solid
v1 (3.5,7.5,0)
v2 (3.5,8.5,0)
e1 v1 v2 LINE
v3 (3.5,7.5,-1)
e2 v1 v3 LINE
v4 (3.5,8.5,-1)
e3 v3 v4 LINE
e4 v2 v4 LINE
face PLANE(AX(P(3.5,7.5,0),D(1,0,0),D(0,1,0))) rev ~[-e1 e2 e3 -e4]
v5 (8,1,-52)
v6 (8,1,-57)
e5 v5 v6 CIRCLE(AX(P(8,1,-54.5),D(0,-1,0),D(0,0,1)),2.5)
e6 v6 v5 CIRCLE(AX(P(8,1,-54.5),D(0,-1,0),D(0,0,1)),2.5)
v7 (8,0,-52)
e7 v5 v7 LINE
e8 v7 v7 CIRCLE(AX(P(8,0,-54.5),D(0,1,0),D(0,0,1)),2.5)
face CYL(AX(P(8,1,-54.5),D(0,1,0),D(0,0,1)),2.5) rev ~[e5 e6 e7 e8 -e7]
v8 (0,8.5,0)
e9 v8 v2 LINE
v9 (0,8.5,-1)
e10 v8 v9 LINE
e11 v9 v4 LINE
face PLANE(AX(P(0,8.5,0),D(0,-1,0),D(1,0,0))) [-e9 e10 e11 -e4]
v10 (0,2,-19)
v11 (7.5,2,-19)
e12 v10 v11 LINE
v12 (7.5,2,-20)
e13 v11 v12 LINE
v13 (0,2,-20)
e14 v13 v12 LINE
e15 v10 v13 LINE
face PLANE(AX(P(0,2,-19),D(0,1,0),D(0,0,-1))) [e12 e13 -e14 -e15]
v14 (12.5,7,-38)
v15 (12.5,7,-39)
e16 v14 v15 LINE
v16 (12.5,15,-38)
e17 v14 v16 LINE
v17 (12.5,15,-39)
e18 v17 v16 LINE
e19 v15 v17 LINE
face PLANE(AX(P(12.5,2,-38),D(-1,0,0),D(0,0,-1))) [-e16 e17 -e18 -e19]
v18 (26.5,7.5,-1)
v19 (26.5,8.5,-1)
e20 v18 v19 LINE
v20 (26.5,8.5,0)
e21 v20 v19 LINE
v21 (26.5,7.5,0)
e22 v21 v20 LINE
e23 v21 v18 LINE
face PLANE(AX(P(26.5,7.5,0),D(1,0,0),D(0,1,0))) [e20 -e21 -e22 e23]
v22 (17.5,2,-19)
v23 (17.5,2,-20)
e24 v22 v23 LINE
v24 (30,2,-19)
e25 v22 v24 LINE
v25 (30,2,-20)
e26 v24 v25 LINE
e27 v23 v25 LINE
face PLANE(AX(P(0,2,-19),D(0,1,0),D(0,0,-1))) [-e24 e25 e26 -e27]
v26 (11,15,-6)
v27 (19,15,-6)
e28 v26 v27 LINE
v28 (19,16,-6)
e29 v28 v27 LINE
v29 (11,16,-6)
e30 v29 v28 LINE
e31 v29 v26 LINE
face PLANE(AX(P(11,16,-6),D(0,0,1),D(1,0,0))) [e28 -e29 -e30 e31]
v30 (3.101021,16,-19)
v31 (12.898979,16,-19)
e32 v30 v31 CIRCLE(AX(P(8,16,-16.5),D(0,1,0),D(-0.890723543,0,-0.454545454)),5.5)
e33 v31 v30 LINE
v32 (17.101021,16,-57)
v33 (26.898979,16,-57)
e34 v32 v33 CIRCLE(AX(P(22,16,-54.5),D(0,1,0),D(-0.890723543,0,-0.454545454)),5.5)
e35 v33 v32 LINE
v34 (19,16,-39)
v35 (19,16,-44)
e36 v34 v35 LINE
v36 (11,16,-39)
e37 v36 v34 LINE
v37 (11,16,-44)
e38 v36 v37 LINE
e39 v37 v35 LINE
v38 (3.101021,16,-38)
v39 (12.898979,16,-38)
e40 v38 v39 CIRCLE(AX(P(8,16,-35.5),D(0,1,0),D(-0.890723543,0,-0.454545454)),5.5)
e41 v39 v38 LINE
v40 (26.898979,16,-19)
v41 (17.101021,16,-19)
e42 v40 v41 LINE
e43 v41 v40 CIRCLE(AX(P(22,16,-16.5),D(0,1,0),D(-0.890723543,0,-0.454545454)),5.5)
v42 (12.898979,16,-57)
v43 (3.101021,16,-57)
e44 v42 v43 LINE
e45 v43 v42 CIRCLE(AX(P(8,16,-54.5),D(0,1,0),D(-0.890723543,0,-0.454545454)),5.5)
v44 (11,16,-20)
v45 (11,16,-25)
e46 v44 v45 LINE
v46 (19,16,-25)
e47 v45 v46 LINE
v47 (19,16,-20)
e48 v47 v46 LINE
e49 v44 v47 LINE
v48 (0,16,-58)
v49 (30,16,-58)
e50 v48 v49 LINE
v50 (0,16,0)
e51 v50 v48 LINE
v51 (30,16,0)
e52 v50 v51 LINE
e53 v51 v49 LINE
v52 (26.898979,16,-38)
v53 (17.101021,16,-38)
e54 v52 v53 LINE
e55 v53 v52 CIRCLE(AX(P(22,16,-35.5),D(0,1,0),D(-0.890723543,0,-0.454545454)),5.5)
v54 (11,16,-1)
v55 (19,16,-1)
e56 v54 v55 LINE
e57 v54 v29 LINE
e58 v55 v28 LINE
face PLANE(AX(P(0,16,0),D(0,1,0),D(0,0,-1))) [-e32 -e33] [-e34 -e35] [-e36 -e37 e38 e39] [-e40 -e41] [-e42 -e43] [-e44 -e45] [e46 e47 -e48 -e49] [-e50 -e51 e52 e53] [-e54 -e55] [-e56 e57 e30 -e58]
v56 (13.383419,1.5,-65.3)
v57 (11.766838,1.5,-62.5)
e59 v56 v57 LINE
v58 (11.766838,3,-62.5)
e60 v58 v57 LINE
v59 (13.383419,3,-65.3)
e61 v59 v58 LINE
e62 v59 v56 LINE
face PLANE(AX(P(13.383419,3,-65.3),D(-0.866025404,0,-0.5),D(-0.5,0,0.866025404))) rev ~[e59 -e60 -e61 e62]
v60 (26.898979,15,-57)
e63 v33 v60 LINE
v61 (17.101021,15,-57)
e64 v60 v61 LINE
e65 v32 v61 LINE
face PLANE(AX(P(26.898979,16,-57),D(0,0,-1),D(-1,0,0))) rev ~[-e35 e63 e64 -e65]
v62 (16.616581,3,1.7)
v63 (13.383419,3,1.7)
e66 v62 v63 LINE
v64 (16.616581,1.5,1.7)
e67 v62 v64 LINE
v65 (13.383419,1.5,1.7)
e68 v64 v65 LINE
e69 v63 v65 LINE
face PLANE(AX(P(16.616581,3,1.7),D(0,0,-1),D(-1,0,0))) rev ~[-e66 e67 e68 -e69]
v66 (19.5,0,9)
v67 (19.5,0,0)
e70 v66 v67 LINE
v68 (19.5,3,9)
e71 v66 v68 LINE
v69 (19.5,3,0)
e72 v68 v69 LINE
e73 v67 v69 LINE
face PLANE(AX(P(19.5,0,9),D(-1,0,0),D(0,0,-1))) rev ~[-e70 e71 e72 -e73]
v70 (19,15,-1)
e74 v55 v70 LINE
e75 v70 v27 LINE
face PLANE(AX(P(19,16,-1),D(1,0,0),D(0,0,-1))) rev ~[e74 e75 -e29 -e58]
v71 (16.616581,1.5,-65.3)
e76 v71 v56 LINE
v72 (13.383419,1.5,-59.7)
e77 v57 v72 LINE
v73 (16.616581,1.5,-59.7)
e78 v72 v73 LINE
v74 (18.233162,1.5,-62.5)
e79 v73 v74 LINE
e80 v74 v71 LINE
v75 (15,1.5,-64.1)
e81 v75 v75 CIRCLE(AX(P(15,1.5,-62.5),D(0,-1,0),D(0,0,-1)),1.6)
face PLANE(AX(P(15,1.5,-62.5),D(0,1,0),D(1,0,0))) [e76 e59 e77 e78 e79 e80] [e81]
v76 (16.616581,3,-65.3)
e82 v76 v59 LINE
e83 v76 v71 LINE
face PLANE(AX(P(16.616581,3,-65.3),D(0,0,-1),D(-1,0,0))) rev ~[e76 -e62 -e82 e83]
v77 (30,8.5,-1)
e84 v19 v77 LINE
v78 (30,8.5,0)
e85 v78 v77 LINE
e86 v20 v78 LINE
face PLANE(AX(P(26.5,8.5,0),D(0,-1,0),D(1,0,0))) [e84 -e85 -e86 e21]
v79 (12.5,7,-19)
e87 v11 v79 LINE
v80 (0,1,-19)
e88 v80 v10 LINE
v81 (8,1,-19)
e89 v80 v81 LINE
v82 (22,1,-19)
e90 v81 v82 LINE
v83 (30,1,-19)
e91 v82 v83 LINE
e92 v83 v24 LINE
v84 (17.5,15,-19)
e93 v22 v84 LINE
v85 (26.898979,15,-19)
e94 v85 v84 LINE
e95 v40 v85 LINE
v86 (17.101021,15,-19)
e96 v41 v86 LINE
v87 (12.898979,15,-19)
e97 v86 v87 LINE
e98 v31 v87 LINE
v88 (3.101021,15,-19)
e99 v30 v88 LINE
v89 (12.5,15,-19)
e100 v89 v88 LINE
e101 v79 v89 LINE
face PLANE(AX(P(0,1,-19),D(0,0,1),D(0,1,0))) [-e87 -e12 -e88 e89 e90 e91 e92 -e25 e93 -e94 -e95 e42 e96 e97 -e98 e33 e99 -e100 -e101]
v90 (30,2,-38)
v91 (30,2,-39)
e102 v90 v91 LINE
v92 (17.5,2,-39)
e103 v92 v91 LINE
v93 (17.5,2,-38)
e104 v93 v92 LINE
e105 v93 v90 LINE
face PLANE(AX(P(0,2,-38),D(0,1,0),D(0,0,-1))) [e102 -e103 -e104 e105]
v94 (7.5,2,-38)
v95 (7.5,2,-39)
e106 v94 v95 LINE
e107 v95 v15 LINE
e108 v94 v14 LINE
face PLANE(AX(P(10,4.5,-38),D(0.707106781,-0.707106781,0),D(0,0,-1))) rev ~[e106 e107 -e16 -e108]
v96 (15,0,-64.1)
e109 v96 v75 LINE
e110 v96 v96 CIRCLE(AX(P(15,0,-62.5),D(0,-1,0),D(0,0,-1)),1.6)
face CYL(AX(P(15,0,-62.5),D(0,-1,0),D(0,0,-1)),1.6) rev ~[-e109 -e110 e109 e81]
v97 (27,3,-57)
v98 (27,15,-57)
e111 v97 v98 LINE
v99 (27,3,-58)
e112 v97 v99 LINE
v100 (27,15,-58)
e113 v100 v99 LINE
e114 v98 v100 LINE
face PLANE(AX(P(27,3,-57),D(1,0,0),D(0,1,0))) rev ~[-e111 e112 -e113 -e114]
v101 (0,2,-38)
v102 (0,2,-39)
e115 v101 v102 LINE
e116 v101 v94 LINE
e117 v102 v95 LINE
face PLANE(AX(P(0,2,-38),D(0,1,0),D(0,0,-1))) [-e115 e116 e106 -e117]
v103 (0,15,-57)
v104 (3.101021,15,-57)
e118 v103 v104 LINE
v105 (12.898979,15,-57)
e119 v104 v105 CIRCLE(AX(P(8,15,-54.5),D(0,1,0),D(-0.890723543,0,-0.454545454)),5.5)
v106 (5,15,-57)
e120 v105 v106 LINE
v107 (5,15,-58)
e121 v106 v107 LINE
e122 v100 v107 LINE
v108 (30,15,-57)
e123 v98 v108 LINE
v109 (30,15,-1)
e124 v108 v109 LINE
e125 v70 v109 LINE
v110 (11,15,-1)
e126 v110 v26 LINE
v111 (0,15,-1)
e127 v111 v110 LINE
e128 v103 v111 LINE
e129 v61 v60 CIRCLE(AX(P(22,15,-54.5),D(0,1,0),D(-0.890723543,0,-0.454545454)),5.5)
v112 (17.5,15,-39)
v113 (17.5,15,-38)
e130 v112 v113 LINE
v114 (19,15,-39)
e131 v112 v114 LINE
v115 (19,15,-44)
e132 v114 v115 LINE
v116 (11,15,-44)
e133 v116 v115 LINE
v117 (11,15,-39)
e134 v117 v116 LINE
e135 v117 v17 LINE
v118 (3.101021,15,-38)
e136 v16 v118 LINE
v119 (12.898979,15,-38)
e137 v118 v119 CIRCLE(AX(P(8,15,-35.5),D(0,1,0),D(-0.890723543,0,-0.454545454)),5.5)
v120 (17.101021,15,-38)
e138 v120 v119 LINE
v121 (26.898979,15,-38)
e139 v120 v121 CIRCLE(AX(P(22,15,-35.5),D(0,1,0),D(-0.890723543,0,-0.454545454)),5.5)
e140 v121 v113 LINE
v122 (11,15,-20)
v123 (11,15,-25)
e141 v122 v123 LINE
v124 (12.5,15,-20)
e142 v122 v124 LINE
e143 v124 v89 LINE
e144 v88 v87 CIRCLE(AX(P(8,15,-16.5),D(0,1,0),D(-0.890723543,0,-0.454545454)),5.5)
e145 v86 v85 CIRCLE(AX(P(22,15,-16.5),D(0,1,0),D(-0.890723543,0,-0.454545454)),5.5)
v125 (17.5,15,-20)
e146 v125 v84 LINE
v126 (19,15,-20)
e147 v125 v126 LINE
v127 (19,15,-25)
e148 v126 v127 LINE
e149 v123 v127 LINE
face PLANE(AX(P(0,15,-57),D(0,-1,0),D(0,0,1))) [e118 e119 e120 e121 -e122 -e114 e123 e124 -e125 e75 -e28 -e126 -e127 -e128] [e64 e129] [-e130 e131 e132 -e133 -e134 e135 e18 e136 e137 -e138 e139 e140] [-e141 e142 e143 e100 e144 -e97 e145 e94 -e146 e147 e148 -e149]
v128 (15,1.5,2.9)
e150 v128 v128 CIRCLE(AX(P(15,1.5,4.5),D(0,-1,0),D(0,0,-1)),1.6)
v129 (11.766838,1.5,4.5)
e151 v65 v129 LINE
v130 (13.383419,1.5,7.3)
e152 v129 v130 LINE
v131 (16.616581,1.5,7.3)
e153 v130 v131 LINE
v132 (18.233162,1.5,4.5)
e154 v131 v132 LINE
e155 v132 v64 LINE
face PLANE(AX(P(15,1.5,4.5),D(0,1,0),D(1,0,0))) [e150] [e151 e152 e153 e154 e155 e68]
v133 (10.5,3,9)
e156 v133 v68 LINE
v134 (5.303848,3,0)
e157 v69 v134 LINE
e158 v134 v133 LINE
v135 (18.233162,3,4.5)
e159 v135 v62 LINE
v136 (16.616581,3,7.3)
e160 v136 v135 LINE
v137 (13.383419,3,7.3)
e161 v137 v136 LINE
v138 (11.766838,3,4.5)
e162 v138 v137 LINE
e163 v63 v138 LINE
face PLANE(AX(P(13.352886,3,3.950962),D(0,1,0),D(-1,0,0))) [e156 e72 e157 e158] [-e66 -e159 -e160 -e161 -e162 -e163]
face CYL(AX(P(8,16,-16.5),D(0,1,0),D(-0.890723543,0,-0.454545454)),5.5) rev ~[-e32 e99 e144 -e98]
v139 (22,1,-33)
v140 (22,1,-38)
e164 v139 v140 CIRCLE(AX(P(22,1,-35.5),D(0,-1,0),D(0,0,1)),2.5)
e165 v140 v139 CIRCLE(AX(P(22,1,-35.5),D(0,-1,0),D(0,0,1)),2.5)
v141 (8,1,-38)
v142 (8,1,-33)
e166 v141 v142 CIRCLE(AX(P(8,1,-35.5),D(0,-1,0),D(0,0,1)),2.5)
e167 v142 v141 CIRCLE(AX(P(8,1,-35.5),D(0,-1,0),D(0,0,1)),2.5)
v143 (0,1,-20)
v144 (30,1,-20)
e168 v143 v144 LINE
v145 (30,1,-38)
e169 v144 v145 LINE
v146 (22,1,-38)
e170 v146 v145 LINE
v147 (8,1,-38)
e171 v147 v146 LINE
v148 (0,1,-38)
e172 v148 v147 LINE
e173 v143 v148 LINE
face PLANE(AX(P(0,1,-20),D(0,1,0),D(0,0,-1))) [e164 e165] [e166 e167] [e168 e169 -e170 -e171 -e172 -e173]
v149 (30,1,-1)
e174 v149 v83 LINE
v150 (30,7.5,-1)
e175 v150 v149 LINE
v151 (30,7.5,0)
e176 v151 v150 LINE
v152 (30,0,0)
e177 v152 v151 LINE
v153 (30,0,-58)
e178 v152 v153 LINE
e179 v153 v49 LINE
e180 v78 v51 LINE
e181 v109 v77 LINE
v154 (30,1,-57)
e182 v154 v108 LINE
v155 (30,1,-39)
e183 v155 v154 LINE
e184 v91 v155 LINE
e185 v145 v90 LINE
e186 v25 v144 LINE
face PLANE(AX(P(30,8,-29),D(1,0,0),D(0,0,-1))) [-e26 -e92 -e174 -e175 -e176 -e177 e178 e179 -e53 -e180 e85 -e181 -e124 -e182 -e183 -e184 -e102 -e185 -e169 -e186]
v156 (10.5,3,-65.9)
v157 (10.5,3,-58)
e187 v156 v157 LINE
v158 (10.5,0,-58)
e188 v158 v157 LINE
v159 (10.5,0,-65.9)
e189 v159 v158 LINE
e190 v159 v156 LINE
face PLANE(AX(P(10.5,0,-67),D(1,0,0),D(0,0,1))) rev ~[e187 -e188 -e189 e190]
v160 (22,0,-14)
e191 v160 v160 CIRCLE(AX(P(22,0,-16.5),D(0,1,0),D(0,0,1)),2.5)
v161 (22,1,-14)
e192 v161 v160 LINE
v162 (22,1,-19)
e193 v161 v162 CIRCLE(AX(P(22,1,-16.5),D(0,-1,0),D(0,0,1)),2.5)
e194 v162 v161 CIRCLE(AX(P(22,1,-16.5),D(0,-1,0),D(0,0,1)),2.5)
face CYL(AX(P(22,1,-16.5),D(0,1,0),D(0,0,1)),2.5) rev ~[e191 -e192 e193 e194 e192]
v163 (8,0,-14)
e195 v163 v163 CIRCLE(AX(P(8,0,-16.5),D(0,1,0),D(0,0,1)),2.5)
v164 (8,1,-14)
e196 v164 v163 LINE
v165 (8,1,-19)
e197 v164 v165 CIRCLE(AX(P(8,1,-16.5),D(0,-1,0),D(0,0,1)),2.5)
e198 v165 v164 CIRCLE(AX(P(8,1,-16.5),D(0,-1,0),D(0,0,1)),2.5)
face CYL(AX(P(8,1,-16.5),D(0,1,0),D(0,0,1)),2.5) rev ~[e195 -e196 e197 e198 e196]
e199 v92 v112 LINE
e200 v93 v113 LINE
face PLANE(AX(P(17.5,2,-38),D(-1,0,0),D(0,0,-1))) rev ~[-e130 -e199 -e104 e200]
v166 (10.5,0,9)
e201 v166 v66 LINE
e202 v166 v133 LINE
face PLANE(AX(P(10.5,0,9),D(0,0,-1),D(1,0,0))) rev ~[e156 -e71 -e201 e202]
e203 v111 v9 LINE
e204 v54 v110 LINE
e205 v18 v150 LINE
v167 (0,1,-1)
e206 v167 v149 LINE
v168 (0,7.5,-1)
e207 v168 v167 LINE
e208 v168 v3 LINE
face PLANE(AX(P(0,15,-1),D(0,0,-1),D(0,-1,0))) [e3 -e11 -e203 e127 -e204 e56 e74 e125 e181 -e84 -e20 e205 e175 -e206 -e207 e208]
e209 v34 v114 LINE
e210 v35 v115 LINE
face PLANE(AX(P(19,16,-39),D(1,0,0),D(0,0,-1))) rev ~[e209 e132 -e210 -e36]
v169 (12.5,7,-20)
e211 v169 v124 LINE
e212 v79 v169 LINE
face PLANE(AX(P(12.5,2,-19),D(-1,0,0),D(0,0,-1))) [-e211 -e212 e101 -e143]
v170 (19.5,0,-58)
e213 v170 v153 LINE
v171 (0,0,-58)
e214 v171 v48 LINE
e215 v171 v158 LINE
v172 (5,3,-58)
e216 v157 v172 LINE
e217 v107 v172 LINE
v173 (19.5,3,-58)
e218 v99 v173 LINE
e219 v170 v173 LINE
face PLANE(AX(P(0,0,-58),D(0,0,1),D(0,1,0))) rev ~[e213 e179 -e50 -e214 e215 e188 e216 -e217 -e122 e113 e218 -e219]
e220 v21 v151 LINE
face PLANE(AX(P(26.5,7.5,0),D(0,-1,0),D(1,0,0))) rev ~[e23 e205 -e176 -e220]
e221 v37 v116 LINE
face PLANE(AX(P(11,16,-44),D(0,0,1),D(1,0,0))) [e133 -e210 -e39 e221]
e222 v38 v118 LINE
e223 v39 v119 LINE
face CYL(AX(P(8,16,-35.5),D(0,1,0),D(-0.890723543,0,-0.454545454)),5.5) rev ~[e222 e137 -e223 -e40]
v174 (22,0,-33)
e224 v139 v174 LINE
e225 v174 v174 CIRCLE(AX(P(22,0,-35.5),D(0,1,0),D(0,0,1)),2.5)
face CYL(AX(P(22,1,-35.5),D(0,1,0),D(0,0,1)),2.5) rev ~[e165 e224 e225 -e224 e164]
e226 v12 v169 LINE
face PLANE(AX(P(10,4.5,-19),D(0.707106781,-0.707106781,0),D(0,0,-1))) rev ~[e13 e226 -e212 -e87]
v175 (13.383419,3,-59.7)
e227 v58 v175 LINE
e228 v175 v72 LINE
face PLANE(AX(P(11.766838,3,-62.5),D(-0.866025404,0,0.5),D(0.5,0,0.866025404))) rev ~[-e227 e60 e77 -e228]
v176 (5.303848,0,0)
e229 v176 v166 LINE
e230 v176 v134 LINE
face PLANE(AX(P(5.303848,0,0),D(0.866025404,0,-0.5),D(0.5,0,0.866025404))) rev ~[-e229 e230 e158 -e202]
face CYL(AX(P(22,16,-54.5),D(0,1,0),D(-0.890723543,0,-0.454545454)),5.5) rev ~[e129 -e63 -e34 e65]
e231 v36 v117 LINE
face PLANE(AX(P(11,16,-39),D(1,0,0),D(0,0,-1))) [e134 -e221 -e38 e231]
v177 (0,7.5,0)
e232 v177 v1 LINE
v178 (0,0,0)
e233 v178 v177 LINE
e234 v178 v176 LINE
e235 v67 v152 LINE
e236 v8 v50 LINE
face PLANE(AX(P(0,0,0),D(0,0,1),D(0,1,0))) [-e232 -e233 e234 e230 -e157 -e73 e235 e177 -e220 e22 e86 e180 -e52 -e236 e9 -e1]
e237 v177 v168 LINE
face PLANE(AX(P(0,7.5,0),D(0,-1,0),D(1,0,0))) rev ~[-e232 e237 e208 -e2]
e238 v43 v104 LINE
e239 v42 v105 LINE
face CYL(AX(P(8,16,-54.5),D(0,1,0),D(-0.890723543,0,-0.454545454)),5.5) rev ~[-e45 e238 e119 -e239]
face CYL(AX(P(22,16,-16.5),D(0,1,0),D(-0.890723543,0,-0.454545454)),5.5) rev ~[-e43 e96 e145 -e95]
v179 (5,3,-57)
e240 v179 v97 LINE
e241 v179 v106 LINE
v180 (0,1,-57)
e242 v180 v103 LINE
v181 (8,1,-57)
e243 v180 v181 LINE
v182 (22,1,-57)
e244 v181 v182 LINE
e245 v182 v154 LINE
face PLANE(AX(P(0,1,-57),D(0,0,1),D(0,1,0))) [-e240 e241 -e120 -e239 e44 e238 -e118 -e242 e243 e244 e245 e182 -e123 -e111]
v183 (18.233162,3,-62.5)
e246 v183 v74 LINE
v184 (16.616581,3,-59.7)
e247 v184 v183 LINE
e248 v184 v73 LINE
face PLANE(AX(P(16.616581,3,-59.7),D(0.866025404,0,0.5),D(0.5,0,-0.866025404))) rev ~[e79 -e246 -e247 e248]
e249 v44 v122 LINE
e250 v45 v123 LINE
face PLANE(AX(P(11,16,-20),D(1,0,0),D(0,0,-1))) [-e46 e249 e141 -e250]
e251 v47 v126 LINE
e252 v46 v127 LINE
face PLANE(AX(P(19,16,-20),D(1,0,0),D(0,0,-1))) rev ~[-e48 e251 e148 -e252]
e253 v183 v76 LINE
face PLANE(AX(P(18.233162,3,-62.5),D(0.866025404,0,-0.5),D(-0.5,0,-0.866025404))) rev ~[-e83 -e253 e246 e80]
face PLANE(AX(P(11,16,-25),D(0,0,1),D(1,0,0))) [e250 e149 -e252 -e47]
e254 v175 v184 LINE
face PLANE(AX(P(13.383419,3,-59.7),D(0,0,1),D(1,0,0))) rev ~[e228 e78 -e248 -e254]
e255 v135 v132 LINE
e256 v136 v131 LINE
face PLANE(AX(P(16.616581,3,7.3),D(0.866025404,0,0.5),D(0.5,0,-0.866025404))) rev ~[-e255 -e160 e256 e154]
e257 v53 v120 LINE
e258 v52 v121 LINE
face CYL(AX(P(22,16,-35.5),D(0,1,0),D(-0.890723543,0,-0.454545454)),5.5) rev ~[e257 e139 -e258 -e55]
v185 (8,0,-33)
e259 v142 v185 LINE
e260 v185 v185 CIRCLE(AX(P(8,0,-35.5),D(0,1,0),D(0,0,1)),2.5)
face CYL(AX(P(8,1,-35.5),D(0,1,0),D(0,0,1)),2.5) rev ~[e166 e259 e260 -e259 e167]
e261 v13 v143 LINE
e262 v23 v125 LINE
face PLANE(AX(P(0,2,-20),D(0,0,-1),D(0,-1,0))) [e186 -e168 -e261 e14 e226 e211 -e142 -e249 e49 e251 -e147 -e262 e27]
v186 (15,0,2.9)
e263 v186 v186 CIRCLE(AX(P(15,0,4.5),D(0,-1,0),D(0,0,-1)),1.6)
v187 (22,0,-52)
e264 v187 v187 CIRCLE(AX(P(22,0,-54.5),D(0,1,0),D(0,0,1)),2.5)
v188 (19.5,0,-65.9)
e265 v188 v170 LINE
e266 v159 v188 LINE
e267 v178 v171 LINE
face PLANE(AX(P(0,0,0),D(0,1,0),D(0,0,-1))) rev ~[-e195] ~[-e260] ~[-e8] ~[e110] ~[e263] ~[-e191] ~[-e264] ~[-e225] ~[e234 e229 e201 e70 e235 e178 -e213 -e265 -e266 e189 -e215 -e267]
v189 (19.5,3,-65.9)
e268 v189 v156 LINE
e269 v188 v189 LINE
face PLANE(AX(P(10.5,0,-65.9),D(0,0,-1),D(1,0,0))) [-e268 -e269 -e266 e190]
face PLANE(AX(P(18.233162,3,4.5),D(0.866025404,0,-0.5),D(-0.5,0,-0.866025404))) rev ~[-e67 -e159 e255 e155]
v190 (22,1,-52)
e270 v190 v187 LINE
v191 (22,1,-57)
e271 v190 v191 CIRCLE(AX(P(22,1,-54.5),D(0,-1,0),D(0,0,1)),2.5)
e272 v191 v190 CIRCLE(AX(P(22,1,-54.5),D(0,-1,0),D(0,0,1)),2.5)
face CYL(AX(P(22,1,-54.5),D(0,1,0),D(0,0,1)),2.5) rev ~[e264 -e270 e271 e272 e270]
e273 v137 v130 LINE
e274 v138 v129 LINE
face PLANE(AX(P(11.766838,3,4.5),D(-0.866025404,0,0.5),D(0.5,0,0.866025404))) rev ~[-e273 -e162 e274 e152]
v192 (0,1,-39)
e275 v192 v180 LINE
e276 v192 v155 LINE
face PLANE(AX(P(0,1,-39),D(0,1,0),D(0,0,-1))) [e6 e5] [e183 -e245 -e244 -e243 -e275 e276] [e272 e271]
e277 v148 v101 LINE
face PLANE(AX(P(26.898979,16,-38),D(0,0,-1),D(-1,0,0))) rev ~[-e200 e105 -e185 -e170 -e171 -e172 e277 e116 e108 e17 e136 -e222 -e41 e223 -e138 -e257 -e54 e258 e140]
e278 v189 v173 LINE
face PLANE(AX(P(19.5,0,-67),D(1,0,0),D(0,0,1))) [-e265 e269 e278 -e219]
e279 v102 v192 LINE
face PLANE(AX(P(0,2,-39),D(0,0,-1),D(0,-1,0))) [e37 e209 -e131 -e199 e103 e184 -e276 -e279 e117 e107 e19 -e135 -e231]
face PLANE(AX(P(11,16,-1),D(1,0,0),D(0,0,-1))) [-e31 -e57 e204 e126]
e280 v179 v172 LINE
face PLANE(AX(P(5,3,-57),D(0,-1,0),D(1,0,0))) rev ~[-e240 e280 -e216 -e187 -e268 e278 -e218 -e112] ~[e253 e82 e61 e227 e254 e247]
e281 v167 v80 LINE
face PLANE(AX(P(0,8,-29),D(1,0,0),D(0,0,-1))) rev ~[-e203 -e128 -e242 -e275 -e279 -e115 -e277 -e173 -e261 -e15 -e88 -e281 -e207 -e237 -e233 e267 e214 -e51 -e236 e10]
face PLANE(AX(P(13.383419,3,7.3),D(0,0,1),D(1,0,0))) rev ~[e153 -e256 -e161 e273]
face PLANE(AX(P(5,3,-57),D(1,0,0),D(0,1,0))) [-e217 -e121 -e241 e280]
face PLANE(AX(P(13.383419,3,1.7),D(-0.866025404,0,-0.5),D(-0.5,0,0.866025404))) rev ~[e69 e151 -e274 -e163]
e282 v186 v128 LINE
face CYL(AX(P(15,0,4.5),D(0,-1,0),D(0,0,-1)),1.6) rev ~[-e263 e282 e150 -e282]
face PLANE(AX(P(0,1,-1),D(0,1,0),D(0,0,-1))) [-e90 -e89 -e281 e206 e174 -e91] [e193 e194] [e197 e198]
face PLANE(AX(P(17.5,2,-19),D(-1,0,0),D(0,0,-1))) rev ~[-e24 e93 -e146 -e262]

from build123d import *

# Parameters (mm, degrees)
SKETCH3_W           = 58
SKETCH3_H           = 16
BOSS_EXTRUDE2_DEPTH = 30
CUT_EXTRUDE2_REACH  = 3
SKETCH4_R           = 2.5
CUT_EXTRUDE6_REACH  = 3
SKETCH7_W           = 22
SKETCH7_H           = 12
BOSS_EXTRUDE4_REACH = 16
SKETCH9_W           = 5
SKETCH9_H           = 1
CHAMFER1_SIZE       = 5
SKETCH10_R          = 1.6
SKETCH10_W          = 9
SKETCH10_H          = 9
BOSS_EXTRUDE5_DEPTH = 3
CUT_EXTRUDE8_DEPTH  = 1.5
CUT_EXTRUDE9_REACH  = 69
SKETCH12_W          = 3.5
SKETCH12_H          = 1
CUT_EXTRUDE10_REACH = 18
SKETCH13_W          = 9
SKETCH13_H          = 1.1
CUT_EXTRUDE12_REACH = 18
SKETCH14_W          = 8
SKETCH14_H          = 5


with BuildPart() as part:
    # Sketch3 → Boss-Extrude2 (new body)
    with BuildSketch(Plane(origin=(0, 0, 0), x_dir=(0, 0, -1), z_dir=(1, 0, 0))):
        with Locations((29, 8)):
            Rectangle(SKETCH3_W, SKETCH3_H)
        Polygon((1, 1), (19, 1), (19, 2), (20, 2), (20, 1), (38, 1), (38, 2), (39, 2), (39, 1), (57, 1), (57, 15), (1, 15), align=None, mode=Mode.SUBTRACT)
    extrude(amount=BOSS_EXTRUDE2_DEPTH)

    # Sketch4 → Cut-Extrude2 (cut, up to next)
    with BuildSketch(Plane(origin=(0, 1, 0), x_dir=(1, 0, 0), z_dir=(0, 1, 0)), mode=Mode.PRIVATE) as cut_extrude2_sk1:
        with Locations(Location((22, 54.5, 0), (0, 0, 270))):  # turned: the seam where the file's is
            Circle(SKETCH4_R)
    cut_extrude2_tool1 = extrude(cut_extrude2_sk1.sketch, amount=-CUT_EXTRUDE2_REACH, mode=Mode.PRIVATE) & part.part
    add(cut_extrude2_tool1.solids().sort_by_distance((22, 1, -54.5))[0], mode=Mode.SUBTRACT)
    # Sketch4 → Cut-Extrude2 (cut, up to next)
    with BuildSketch(Plane(origin=(0, 1, 0), x_dir=(1, 0, 0), z_dir=(0, 1, 0)), mode=Mode.PRIVATE) as cut_extrude2_sk2:
        with Locations(Location((8, 54.5, 0), (0, 0, 270))):  # turned: the seam where the file's is
            Circle(SKETCH4_R)
    cut_extrude2_tool2 = extrude(cut_extrude2_sk2.sketch, amount=-CUT_EXTRUDE2_REACH, mode=Mode.PRIVATE) & part.part
    add(cut_extrude2_tool2.solids().sort_by_distance((8, 1, -54.5))[0], mode=Mode.SUBTRACT)
    # Sketch4 → Cut-Extrude2 (cut, up to next)
    with BuildSketch(Plane(origin=(0, 1, 0), x_dir=(1, 0, 0), z_dir=(0, 1, 0)), mode=Mode.PRIVATE) as cut_extrude2_sk3:
        with Locations(Location((8, 35.5, 0), (0, 0, 270))):  # turned: the seam where the file's is
            Circle(SKETCH4_R)
    cut_extrude2_tool3 = extrude(cut_extrude2_sk3.sketch, amount=-CUT_EXTRUDE2_REACH, mode=Mode.PRIVATE) & part.part
    add(cut_extrude2_tool3.solids().sort_by_distance((8, 1, -35.5))[0], mode=Mode.SUBTRACT)
    # Sketch4 → Cut-Extrude2 (cut, up to next)
    with BuildSketch(Plane(origin=(0, 1, 0), x_dir=(1, 0, 0), z_dir=(0, 1, 0)), mode=Mode.PRIVATE) as cut_extrude2_sk4:
        with Locations(Location((22, 35.5, 0), (0, 0, 270))):  # turned: the seam where the file's is
            Circle(SKETCH4_R)
    cut_extrude2_tool4 = extrude(cut_extrude2_sk4.sketch, amount=-CUT_EXTRUDE2_REACH, mode=Mode.PRIVATE) & part.part
    add(cut_extrude2_tool4.solids().sort_by_distance((22, 1, -35.5))[0], mode=Mode.SUBTRACT)
    # Sketch4 → Cut-Extrude2 (cut, up to next)
    with BuildSketch(Plane(origin=(0, 1, 0), x_dir=(1, 0, 0), z_dir=(0, 1, 0)), mode=Mode.PRIVATE) as cut_extrude2_sk5:
        with Locations(Location((8, 16.5, 0), (0, 0, 270))):  # turned: the seam where the file's is
            Circle(SKETCH4_R)
    cut_extrude2_tool5 = extrude(cut_extrude2_sk5.sketch, amount=-CUT_EXTRUDE2_REACH, mode=Mode.PRIVATE) & part.part
    add(cut_extrude2_tool5.solids().sort_by_distance((8, 1, -16.5))[0], mode=Mode.SUBTRACT)
    # Sketch4 → Cut-Extrude2 (cut, up to next)
    with BuildSketch(Plane(origin=(0, 1, 0), x_dir=(1, 0, 0), z_dir=(0, 1, 0)), mode=Mode.PRIVATE) as cut_extrude2_sk6:
        with Locations(Location((22, 16.5, 0), (0, 0, 270))):  # turned: the seam where the file's is
            Circle(SKETCH4_R)
    cut_extrude2_tool6 = extrude(cut_extrude2_sk6.sketch, amount=-CUT_EXTRUDE2_REACH, mode=Mode.PRIVATE) & part.part
    add(cut_extrude2_tool6.solids().sort_by_distance((22, 1, -16.5))[0], mode=Mode.SUBTRACT)

    # Sketch7 → Cut-Extrude6 (cut, up to next)
    with BuildSketch(Plane.XY.offset(-57), mode=Mode.PRIVATE) as cut_extrude6_sk1:
        with Locations((16, 9)):
            Rectangle(SKETCH7_W, SKETCH7_H)
    cut_extrude6_tool1 = extrude(cut_extrude6_sk1.sketch, amount=-CUT_EXTRUDE6_REACH, mode=Mode.PRIVATE) & part.part
    add(cut_extrude6_tool1.solids().sort_by_distance((16, 9, -57))[0], mode=Mode.SUBTRACT)

    # Sketch9 → Boss-Extrude4 (add, up to next)
    with BuildSketch(Plane(origin=(0, 2, 0), x_dir=(1, 0, 0), z_dir=(0, 1, 0)), mode=Mode.PRIVATE) as boss_extrude4_sk1:
        with Locations((15, 19.5)):
            Rectangle(SKETCH9_W, SKETCH9_H)
    boss_extrude4_tool1 = extrude(boss_extrude4_sk1.sketch, amount=BOSS_EXTRUDE4_REACH, mode=Mode.PRIVATE) - part.part
    add(boss_extrude4_tool1.solids().sort_by_distance((15, 2, -19.5))[0])
    # Sketch9 → Boss-Extrude4 (add, up to next)
    with BuildSketch(Plane(origin=(0, 2, 0), x_dir=(1, 0, 0), z_dir=(0, 1, 0)), mode=Mode.PRIVATE) as boss_extrude4_sk2:
        with Locations((15, 38.5)):
            Rectangle(SKETCH9_W, SKETCH9_H)
    boss_extrude4_tool2 = extrude(boss_extrude4_sk2.sketch, amount=BOSS_EXTRUDE4_REACH, mode=Mode.PRIVATE) - part.part
    add(boss_extrude4_tool2.solids().sort_by_distance((15, 2, -38.5))[0])

    # Chamfer1
    chamfer1_edges = [part.edges().sort_by_distance(p)[0] for p in [
        (12.5, 2, -19.5),
        (12.5, 2, -38.5),
    ]]
    chamfer(chamfer1_edges, length=CHAMFER1_SIZE)

    # Sketch10 → Boss-Extrude5 (add)
    with BuildSketch(Plane.XZ):
        Polygon((19.5, 0), (5.303847577, 0), (10.5, 9), (19.5, 9), align=None)
        with Locations(Location((15, 4.5, 0), (0, 0, 270))):  # turned: the seam where the file's is
            Circle(SKETCH10_R, mode=Mode.SUBTRACT)
        with Locations((15, -62.5)):
            Rectangle(SKETCH10_W, SKETCH10_H)
        with Locations(Location((15, -62.5, 0), (0, 0, 270))):  # turned: the seam where the file's is
            Circle(SKETCH10_R, mode=Mode.SUBTRACT)
    extrude(amount=-BOSS_EXTRUDE5_DEPTH)

    # Sketch11 → Cut-Extrude8 (cut)
    with BuildSketch(Plane(origin=(0, 3, 0), x_dir=(1, 0, 0), z_dir=(0, 1, 0))):
        Polygon((11.766838493, 62.5), (13.383419246, 59.7), (16.616580754, 59.7), (18.233161507, 62.5), (16.616580754, 65.3), (13.383419246, 65.3), align=None)
        Polygon((11.766838493, -4.5), (13.383419246, -7.3), (16.616580754, -7.3), (18.233161507, -4.5), (16.616580754, -1.7), (13.383419246, -1.7), align=None)
    extrude(amount=-CUT_EXTRUDE8_DEPTH, mode=Mode.SUBTRACT)

    # Sketch12 → Cut-Extrude9 (cut, up to next)
    with BuildSketch(Plane.XY, mode=Mode.PRIVATE) as cut_extrude9_sk1:
        with Locations((1.75, 8)):
            Rectangle(SKETCH12_W, SKETCH12_H)
    cut_extrude9_tool1 = extrude(cut_extrude9_sk1.sketch, amount=-CUT_EXTRUDE9_REACH, mode=Mode.PRIVATE) & part.part
    add(cut_extrude9_tool1.solids().sort_by_distance((1.75, 8, 0))[0], mode=Mode.SUBTRACT)
    # Sketch12 → Cut-Extrude9 (cut, up to next)
    with BuildSketch(Plane.XY, mode=Mode.PRIVATE) as cut_extrude9_sk2:
        with Locations((28.25, 8)):
            Rectangle(SKETCH12_W, SKETCH12_H)
    cut_extrude9_tool2 = extrude(cut_extrude9_sk2.sketch, amount=-CUT_EXTRUDE9_REACH, mode=Mode.PRIVATE) & part.part
    add(cut_extrude9_tool2.solids().sort_by_distance((28.25, 8, 0))[0], mode=Mode.SUBTRACT)

    # Sketch13 → Cut-Extrude10 (cut, up to next)
    with BuildSketch(Plane.XZ, mode=Mode.PRIVATE) as cut_extrude10_sk1:
        with Locations((15, -66.45)):
            Rectangle(SKETCH13_W, SKETCH13_H)
    cut_extrude10_tool1 = extrude(cut_extrude10_sk1.sketch, amount=-CUT_EXTRUDE10_REACH, mode=Mode.PRIVATE) & part.part
    add(cut_extrude10_tool1.solids().sort_by_distance((15, 0, -66.45))[0], mode=Mode.SUBTRACT)

    # Sketch14 → Cut-Extrude12 (cut, up to next)
    with BuildSketch(Plane(origin=(0, 16, 0), x_dir=(1, 0, 0), z_dir=(0, 1, 0)), mode=Mode.PRIVATE) as cut_extrude12_sk1:
        with BuildLine():
            Line((12.898979486, 57), (3.101020514, 57))
            ThreePointArc((3.101020514, 57), (8, 49), (12.898979486, 57))
        make_face()
    cut_extrude12_tool1 = extrude(cut_extrude12_sk1.sketch, amount=-CUT_EXTRUDE12_REACH, mode=Mode.PRIVATE) & part.part
    add(cut_extrude12_tool1.solids().sort_by_distance((8, 16, -53.441303))[0], mode=Mode.SUBTRACT)
    # Sketch14 → Cut-Extrude12 (cut, up to next)
    with BuildSketch(Plane(origin=(0, 16, 0), x_dir=(1, 0, 0), z_dir=(0, 1, 0)), mode=Mode.PRIVATE) as cut_extrude12_sk2:
        with BuildLine():
            Line((26.898979486, 57), (17.101020514, 57))
            ThreePointArc((17.101020514, 57), (22, 49), (26.898979486, 57))
        make_face()
    cut_extrude12_tool2 = extrude(cut_extrude12_sk2.sketch, amount=-CUT_EXTRUDE12_REACH, mode=Mode.PRIVATE) & part.part
    add(cut_extrude12_tool2.solids().sort_by_distance((22, 16, -53.441303))[0], mode=Mode.SUBTRACT)
    # Sketch14 → Cut-Extrude12 (cut, up to next)
    with BuildSketch(Plane(origin=(0, 16, 0), x_dir=(1, 0, 0), z_dir=(0, 1, 0)), mode=Mode.PRIVATE) as cut_extrude12_sk3:
        with BuildLine():
            Line((26.898979486, 38), (17.101020514, 38))
            ThreePointArc((17.101020514, 38), (22, 30), (26.898979486, 38))
        make_face()
    cut_extrude12_tool3 = extrude(cut_extrude12_sk3.sketch, amount=-CUT_EXTRUDE12_REACH, mode=Mode.PRIVATE) & part.part
    add(cut_extrude12_tool3.solids().sort_by_distance((22, 16, -34.441303))[0], mode=Mode.SUBTRACT)
    # Sketch14 → Cut-Extrude12 (cut, up to next)
    with BuildSketch(Plane(origin=(0, 16, 0), x_dir=(1, 0, 0), z_dir=(0, 1, 0)), mode=Mode.PRIVATE) as cut_extrude12_sk4:
        with BuildLine():
            Line((12.898979486, 38), (3.101020514, 38))
            ThreePointArc((3.101020514, 38), (8, 30), (12.898979486, 38))
        make_face()
    cut_extrude12_tool4 = extrude(cut_extrude12_sk4.sketch, amount=-CUT_EXTRUDE12_REACH, mode=Mode.PRIVATE) & part.part
    add(cut_extrude12_tool4.solids().sort_by_distance((8, 16, -34.441303))[0], mode=Mode.SUBTRACT)
    # Sketch14 → Cut-Extrude12 (cut, up to next)
    with BuildSketch(Plane(origin=(0, 16, 0), x_dir=(1, 0, 0), z_dir=(0, 1, 0)), mode=Mode.PRIVATE) as cut_extrude12_sk5:
        with BuildLine():
            Line((26.898979486, 19), (17.101020514, 19))
            ThreePointArc((17.101020514, 19), (22, 11), (26.898979486, 19))
        make_face()
    cut_extrude12_tool5 = extrude(cut_extrude12_sk5.sketch, amount=-CUT_EXTRUDE12_REACH, mode=Mode.PRIVATE) & part.part
    add(cut_extrude12_tool5.solids().sort_by_distance((22, 16, -15.441303))[0], mode=Mode.SUBTRACT)
    # Sketch14 → Cut-Extrude12 (cut, up to next)
    with BuildSketch(Plane(origin=(0, 16, 0), x_dir=(1, 0, 0), z_dir=(0, 1, 0)), mode=Mode.PRIVATE) as cut_extrude12_sk6:
        with BuildLine():
            Line((12.898979486, 19), (3.101020514, 19))
            ThreePointArc((3.101020514, 19), (8, 11), (12.898979486, 19))
        make_face()
    cut_extrude12_tool6 = extrude(cut_extrude12_sk6.sketch, amount=-CUT_EXTRUDE12_REACH, mode=Mode.PRIVATE) & part.part
    add(cut_extrude12_tool6.solids().sort_by_distance((8, 16, -15.441303))[0], mode=Mode.SUBTRACT)
    # Sketch14 → Cut-Extrude12 (cut, up to next)
    with BuildSketch(Plane(origin=(0, 16, 0), x_dir=(1, 0, 0), z_dir=(0, 1, 0)), mode=Mode.PRIVATE) as cut_extrude12_sk7:
        with Locations((15, 41.5)):
            Rectangle(SKETCH14_W, SKETCH14_H)
    cut_extrude12_tool7 = extrude(cut_extrude12_sk7.sketch, amount=-CUT_EXTRUDE12_REACH, mode=Mode.PRIVATE) & part.part
    add(cut_extrude12_tool7.solids().sort_by_distance((15, 16, -41.5))[0], mode=Mode.SUBTRACT)
    # Sketch14 → Cut-Extrude12 (cut, up to next)
    with BuildSketch(Plane(origin=(0, 16, 0), x_dir=(1, 0, 0), z_dir=(0, 1, 0)), mode=Mode.PRIVATE) as cut_extrude12_sk8:
        with Locations((15, 22.5)):
            Rectangle(SKETCH14_W, SKETCH14_H)
    cut_extrude12_tool8 = extrude(cut_extrude12_sk8.sketch, amount=-CUT_EXTRUDE12_REACH, mode=Mode.PRIVATE) & part.part
    add(cut_extrude12_tool8.solids().sort_by_distance((15, 16, -22.5))[0], mode=Mode.SUBTRACT)
    # Sketch14 → Cut-Extrude12 (cut, up to next)
    with BuildSketch(Plane(origin=(0, 16, 0), x_dir=(1, 0, 0), z_dir=(0, 1, 0)), mode=Mode.PRIVATE) as cut_extrude12_sk9:
        with Locations((15, 3.5)):
            Rectangle(SKETCH14_W, SKETCH14_H)
    cut_extrude12_tool9 = extrude(cut_extrude12_sk9.sketch, amount=-CUT_EXTRUDE12_REACH, mode=Mode.PRIVATE) & part.part
    add(cut_extrude12_tool9.solids().sort_by_distance((15, 16, -3.5))[0], mode=Mode.SUBTRACT)


solid = part.part
